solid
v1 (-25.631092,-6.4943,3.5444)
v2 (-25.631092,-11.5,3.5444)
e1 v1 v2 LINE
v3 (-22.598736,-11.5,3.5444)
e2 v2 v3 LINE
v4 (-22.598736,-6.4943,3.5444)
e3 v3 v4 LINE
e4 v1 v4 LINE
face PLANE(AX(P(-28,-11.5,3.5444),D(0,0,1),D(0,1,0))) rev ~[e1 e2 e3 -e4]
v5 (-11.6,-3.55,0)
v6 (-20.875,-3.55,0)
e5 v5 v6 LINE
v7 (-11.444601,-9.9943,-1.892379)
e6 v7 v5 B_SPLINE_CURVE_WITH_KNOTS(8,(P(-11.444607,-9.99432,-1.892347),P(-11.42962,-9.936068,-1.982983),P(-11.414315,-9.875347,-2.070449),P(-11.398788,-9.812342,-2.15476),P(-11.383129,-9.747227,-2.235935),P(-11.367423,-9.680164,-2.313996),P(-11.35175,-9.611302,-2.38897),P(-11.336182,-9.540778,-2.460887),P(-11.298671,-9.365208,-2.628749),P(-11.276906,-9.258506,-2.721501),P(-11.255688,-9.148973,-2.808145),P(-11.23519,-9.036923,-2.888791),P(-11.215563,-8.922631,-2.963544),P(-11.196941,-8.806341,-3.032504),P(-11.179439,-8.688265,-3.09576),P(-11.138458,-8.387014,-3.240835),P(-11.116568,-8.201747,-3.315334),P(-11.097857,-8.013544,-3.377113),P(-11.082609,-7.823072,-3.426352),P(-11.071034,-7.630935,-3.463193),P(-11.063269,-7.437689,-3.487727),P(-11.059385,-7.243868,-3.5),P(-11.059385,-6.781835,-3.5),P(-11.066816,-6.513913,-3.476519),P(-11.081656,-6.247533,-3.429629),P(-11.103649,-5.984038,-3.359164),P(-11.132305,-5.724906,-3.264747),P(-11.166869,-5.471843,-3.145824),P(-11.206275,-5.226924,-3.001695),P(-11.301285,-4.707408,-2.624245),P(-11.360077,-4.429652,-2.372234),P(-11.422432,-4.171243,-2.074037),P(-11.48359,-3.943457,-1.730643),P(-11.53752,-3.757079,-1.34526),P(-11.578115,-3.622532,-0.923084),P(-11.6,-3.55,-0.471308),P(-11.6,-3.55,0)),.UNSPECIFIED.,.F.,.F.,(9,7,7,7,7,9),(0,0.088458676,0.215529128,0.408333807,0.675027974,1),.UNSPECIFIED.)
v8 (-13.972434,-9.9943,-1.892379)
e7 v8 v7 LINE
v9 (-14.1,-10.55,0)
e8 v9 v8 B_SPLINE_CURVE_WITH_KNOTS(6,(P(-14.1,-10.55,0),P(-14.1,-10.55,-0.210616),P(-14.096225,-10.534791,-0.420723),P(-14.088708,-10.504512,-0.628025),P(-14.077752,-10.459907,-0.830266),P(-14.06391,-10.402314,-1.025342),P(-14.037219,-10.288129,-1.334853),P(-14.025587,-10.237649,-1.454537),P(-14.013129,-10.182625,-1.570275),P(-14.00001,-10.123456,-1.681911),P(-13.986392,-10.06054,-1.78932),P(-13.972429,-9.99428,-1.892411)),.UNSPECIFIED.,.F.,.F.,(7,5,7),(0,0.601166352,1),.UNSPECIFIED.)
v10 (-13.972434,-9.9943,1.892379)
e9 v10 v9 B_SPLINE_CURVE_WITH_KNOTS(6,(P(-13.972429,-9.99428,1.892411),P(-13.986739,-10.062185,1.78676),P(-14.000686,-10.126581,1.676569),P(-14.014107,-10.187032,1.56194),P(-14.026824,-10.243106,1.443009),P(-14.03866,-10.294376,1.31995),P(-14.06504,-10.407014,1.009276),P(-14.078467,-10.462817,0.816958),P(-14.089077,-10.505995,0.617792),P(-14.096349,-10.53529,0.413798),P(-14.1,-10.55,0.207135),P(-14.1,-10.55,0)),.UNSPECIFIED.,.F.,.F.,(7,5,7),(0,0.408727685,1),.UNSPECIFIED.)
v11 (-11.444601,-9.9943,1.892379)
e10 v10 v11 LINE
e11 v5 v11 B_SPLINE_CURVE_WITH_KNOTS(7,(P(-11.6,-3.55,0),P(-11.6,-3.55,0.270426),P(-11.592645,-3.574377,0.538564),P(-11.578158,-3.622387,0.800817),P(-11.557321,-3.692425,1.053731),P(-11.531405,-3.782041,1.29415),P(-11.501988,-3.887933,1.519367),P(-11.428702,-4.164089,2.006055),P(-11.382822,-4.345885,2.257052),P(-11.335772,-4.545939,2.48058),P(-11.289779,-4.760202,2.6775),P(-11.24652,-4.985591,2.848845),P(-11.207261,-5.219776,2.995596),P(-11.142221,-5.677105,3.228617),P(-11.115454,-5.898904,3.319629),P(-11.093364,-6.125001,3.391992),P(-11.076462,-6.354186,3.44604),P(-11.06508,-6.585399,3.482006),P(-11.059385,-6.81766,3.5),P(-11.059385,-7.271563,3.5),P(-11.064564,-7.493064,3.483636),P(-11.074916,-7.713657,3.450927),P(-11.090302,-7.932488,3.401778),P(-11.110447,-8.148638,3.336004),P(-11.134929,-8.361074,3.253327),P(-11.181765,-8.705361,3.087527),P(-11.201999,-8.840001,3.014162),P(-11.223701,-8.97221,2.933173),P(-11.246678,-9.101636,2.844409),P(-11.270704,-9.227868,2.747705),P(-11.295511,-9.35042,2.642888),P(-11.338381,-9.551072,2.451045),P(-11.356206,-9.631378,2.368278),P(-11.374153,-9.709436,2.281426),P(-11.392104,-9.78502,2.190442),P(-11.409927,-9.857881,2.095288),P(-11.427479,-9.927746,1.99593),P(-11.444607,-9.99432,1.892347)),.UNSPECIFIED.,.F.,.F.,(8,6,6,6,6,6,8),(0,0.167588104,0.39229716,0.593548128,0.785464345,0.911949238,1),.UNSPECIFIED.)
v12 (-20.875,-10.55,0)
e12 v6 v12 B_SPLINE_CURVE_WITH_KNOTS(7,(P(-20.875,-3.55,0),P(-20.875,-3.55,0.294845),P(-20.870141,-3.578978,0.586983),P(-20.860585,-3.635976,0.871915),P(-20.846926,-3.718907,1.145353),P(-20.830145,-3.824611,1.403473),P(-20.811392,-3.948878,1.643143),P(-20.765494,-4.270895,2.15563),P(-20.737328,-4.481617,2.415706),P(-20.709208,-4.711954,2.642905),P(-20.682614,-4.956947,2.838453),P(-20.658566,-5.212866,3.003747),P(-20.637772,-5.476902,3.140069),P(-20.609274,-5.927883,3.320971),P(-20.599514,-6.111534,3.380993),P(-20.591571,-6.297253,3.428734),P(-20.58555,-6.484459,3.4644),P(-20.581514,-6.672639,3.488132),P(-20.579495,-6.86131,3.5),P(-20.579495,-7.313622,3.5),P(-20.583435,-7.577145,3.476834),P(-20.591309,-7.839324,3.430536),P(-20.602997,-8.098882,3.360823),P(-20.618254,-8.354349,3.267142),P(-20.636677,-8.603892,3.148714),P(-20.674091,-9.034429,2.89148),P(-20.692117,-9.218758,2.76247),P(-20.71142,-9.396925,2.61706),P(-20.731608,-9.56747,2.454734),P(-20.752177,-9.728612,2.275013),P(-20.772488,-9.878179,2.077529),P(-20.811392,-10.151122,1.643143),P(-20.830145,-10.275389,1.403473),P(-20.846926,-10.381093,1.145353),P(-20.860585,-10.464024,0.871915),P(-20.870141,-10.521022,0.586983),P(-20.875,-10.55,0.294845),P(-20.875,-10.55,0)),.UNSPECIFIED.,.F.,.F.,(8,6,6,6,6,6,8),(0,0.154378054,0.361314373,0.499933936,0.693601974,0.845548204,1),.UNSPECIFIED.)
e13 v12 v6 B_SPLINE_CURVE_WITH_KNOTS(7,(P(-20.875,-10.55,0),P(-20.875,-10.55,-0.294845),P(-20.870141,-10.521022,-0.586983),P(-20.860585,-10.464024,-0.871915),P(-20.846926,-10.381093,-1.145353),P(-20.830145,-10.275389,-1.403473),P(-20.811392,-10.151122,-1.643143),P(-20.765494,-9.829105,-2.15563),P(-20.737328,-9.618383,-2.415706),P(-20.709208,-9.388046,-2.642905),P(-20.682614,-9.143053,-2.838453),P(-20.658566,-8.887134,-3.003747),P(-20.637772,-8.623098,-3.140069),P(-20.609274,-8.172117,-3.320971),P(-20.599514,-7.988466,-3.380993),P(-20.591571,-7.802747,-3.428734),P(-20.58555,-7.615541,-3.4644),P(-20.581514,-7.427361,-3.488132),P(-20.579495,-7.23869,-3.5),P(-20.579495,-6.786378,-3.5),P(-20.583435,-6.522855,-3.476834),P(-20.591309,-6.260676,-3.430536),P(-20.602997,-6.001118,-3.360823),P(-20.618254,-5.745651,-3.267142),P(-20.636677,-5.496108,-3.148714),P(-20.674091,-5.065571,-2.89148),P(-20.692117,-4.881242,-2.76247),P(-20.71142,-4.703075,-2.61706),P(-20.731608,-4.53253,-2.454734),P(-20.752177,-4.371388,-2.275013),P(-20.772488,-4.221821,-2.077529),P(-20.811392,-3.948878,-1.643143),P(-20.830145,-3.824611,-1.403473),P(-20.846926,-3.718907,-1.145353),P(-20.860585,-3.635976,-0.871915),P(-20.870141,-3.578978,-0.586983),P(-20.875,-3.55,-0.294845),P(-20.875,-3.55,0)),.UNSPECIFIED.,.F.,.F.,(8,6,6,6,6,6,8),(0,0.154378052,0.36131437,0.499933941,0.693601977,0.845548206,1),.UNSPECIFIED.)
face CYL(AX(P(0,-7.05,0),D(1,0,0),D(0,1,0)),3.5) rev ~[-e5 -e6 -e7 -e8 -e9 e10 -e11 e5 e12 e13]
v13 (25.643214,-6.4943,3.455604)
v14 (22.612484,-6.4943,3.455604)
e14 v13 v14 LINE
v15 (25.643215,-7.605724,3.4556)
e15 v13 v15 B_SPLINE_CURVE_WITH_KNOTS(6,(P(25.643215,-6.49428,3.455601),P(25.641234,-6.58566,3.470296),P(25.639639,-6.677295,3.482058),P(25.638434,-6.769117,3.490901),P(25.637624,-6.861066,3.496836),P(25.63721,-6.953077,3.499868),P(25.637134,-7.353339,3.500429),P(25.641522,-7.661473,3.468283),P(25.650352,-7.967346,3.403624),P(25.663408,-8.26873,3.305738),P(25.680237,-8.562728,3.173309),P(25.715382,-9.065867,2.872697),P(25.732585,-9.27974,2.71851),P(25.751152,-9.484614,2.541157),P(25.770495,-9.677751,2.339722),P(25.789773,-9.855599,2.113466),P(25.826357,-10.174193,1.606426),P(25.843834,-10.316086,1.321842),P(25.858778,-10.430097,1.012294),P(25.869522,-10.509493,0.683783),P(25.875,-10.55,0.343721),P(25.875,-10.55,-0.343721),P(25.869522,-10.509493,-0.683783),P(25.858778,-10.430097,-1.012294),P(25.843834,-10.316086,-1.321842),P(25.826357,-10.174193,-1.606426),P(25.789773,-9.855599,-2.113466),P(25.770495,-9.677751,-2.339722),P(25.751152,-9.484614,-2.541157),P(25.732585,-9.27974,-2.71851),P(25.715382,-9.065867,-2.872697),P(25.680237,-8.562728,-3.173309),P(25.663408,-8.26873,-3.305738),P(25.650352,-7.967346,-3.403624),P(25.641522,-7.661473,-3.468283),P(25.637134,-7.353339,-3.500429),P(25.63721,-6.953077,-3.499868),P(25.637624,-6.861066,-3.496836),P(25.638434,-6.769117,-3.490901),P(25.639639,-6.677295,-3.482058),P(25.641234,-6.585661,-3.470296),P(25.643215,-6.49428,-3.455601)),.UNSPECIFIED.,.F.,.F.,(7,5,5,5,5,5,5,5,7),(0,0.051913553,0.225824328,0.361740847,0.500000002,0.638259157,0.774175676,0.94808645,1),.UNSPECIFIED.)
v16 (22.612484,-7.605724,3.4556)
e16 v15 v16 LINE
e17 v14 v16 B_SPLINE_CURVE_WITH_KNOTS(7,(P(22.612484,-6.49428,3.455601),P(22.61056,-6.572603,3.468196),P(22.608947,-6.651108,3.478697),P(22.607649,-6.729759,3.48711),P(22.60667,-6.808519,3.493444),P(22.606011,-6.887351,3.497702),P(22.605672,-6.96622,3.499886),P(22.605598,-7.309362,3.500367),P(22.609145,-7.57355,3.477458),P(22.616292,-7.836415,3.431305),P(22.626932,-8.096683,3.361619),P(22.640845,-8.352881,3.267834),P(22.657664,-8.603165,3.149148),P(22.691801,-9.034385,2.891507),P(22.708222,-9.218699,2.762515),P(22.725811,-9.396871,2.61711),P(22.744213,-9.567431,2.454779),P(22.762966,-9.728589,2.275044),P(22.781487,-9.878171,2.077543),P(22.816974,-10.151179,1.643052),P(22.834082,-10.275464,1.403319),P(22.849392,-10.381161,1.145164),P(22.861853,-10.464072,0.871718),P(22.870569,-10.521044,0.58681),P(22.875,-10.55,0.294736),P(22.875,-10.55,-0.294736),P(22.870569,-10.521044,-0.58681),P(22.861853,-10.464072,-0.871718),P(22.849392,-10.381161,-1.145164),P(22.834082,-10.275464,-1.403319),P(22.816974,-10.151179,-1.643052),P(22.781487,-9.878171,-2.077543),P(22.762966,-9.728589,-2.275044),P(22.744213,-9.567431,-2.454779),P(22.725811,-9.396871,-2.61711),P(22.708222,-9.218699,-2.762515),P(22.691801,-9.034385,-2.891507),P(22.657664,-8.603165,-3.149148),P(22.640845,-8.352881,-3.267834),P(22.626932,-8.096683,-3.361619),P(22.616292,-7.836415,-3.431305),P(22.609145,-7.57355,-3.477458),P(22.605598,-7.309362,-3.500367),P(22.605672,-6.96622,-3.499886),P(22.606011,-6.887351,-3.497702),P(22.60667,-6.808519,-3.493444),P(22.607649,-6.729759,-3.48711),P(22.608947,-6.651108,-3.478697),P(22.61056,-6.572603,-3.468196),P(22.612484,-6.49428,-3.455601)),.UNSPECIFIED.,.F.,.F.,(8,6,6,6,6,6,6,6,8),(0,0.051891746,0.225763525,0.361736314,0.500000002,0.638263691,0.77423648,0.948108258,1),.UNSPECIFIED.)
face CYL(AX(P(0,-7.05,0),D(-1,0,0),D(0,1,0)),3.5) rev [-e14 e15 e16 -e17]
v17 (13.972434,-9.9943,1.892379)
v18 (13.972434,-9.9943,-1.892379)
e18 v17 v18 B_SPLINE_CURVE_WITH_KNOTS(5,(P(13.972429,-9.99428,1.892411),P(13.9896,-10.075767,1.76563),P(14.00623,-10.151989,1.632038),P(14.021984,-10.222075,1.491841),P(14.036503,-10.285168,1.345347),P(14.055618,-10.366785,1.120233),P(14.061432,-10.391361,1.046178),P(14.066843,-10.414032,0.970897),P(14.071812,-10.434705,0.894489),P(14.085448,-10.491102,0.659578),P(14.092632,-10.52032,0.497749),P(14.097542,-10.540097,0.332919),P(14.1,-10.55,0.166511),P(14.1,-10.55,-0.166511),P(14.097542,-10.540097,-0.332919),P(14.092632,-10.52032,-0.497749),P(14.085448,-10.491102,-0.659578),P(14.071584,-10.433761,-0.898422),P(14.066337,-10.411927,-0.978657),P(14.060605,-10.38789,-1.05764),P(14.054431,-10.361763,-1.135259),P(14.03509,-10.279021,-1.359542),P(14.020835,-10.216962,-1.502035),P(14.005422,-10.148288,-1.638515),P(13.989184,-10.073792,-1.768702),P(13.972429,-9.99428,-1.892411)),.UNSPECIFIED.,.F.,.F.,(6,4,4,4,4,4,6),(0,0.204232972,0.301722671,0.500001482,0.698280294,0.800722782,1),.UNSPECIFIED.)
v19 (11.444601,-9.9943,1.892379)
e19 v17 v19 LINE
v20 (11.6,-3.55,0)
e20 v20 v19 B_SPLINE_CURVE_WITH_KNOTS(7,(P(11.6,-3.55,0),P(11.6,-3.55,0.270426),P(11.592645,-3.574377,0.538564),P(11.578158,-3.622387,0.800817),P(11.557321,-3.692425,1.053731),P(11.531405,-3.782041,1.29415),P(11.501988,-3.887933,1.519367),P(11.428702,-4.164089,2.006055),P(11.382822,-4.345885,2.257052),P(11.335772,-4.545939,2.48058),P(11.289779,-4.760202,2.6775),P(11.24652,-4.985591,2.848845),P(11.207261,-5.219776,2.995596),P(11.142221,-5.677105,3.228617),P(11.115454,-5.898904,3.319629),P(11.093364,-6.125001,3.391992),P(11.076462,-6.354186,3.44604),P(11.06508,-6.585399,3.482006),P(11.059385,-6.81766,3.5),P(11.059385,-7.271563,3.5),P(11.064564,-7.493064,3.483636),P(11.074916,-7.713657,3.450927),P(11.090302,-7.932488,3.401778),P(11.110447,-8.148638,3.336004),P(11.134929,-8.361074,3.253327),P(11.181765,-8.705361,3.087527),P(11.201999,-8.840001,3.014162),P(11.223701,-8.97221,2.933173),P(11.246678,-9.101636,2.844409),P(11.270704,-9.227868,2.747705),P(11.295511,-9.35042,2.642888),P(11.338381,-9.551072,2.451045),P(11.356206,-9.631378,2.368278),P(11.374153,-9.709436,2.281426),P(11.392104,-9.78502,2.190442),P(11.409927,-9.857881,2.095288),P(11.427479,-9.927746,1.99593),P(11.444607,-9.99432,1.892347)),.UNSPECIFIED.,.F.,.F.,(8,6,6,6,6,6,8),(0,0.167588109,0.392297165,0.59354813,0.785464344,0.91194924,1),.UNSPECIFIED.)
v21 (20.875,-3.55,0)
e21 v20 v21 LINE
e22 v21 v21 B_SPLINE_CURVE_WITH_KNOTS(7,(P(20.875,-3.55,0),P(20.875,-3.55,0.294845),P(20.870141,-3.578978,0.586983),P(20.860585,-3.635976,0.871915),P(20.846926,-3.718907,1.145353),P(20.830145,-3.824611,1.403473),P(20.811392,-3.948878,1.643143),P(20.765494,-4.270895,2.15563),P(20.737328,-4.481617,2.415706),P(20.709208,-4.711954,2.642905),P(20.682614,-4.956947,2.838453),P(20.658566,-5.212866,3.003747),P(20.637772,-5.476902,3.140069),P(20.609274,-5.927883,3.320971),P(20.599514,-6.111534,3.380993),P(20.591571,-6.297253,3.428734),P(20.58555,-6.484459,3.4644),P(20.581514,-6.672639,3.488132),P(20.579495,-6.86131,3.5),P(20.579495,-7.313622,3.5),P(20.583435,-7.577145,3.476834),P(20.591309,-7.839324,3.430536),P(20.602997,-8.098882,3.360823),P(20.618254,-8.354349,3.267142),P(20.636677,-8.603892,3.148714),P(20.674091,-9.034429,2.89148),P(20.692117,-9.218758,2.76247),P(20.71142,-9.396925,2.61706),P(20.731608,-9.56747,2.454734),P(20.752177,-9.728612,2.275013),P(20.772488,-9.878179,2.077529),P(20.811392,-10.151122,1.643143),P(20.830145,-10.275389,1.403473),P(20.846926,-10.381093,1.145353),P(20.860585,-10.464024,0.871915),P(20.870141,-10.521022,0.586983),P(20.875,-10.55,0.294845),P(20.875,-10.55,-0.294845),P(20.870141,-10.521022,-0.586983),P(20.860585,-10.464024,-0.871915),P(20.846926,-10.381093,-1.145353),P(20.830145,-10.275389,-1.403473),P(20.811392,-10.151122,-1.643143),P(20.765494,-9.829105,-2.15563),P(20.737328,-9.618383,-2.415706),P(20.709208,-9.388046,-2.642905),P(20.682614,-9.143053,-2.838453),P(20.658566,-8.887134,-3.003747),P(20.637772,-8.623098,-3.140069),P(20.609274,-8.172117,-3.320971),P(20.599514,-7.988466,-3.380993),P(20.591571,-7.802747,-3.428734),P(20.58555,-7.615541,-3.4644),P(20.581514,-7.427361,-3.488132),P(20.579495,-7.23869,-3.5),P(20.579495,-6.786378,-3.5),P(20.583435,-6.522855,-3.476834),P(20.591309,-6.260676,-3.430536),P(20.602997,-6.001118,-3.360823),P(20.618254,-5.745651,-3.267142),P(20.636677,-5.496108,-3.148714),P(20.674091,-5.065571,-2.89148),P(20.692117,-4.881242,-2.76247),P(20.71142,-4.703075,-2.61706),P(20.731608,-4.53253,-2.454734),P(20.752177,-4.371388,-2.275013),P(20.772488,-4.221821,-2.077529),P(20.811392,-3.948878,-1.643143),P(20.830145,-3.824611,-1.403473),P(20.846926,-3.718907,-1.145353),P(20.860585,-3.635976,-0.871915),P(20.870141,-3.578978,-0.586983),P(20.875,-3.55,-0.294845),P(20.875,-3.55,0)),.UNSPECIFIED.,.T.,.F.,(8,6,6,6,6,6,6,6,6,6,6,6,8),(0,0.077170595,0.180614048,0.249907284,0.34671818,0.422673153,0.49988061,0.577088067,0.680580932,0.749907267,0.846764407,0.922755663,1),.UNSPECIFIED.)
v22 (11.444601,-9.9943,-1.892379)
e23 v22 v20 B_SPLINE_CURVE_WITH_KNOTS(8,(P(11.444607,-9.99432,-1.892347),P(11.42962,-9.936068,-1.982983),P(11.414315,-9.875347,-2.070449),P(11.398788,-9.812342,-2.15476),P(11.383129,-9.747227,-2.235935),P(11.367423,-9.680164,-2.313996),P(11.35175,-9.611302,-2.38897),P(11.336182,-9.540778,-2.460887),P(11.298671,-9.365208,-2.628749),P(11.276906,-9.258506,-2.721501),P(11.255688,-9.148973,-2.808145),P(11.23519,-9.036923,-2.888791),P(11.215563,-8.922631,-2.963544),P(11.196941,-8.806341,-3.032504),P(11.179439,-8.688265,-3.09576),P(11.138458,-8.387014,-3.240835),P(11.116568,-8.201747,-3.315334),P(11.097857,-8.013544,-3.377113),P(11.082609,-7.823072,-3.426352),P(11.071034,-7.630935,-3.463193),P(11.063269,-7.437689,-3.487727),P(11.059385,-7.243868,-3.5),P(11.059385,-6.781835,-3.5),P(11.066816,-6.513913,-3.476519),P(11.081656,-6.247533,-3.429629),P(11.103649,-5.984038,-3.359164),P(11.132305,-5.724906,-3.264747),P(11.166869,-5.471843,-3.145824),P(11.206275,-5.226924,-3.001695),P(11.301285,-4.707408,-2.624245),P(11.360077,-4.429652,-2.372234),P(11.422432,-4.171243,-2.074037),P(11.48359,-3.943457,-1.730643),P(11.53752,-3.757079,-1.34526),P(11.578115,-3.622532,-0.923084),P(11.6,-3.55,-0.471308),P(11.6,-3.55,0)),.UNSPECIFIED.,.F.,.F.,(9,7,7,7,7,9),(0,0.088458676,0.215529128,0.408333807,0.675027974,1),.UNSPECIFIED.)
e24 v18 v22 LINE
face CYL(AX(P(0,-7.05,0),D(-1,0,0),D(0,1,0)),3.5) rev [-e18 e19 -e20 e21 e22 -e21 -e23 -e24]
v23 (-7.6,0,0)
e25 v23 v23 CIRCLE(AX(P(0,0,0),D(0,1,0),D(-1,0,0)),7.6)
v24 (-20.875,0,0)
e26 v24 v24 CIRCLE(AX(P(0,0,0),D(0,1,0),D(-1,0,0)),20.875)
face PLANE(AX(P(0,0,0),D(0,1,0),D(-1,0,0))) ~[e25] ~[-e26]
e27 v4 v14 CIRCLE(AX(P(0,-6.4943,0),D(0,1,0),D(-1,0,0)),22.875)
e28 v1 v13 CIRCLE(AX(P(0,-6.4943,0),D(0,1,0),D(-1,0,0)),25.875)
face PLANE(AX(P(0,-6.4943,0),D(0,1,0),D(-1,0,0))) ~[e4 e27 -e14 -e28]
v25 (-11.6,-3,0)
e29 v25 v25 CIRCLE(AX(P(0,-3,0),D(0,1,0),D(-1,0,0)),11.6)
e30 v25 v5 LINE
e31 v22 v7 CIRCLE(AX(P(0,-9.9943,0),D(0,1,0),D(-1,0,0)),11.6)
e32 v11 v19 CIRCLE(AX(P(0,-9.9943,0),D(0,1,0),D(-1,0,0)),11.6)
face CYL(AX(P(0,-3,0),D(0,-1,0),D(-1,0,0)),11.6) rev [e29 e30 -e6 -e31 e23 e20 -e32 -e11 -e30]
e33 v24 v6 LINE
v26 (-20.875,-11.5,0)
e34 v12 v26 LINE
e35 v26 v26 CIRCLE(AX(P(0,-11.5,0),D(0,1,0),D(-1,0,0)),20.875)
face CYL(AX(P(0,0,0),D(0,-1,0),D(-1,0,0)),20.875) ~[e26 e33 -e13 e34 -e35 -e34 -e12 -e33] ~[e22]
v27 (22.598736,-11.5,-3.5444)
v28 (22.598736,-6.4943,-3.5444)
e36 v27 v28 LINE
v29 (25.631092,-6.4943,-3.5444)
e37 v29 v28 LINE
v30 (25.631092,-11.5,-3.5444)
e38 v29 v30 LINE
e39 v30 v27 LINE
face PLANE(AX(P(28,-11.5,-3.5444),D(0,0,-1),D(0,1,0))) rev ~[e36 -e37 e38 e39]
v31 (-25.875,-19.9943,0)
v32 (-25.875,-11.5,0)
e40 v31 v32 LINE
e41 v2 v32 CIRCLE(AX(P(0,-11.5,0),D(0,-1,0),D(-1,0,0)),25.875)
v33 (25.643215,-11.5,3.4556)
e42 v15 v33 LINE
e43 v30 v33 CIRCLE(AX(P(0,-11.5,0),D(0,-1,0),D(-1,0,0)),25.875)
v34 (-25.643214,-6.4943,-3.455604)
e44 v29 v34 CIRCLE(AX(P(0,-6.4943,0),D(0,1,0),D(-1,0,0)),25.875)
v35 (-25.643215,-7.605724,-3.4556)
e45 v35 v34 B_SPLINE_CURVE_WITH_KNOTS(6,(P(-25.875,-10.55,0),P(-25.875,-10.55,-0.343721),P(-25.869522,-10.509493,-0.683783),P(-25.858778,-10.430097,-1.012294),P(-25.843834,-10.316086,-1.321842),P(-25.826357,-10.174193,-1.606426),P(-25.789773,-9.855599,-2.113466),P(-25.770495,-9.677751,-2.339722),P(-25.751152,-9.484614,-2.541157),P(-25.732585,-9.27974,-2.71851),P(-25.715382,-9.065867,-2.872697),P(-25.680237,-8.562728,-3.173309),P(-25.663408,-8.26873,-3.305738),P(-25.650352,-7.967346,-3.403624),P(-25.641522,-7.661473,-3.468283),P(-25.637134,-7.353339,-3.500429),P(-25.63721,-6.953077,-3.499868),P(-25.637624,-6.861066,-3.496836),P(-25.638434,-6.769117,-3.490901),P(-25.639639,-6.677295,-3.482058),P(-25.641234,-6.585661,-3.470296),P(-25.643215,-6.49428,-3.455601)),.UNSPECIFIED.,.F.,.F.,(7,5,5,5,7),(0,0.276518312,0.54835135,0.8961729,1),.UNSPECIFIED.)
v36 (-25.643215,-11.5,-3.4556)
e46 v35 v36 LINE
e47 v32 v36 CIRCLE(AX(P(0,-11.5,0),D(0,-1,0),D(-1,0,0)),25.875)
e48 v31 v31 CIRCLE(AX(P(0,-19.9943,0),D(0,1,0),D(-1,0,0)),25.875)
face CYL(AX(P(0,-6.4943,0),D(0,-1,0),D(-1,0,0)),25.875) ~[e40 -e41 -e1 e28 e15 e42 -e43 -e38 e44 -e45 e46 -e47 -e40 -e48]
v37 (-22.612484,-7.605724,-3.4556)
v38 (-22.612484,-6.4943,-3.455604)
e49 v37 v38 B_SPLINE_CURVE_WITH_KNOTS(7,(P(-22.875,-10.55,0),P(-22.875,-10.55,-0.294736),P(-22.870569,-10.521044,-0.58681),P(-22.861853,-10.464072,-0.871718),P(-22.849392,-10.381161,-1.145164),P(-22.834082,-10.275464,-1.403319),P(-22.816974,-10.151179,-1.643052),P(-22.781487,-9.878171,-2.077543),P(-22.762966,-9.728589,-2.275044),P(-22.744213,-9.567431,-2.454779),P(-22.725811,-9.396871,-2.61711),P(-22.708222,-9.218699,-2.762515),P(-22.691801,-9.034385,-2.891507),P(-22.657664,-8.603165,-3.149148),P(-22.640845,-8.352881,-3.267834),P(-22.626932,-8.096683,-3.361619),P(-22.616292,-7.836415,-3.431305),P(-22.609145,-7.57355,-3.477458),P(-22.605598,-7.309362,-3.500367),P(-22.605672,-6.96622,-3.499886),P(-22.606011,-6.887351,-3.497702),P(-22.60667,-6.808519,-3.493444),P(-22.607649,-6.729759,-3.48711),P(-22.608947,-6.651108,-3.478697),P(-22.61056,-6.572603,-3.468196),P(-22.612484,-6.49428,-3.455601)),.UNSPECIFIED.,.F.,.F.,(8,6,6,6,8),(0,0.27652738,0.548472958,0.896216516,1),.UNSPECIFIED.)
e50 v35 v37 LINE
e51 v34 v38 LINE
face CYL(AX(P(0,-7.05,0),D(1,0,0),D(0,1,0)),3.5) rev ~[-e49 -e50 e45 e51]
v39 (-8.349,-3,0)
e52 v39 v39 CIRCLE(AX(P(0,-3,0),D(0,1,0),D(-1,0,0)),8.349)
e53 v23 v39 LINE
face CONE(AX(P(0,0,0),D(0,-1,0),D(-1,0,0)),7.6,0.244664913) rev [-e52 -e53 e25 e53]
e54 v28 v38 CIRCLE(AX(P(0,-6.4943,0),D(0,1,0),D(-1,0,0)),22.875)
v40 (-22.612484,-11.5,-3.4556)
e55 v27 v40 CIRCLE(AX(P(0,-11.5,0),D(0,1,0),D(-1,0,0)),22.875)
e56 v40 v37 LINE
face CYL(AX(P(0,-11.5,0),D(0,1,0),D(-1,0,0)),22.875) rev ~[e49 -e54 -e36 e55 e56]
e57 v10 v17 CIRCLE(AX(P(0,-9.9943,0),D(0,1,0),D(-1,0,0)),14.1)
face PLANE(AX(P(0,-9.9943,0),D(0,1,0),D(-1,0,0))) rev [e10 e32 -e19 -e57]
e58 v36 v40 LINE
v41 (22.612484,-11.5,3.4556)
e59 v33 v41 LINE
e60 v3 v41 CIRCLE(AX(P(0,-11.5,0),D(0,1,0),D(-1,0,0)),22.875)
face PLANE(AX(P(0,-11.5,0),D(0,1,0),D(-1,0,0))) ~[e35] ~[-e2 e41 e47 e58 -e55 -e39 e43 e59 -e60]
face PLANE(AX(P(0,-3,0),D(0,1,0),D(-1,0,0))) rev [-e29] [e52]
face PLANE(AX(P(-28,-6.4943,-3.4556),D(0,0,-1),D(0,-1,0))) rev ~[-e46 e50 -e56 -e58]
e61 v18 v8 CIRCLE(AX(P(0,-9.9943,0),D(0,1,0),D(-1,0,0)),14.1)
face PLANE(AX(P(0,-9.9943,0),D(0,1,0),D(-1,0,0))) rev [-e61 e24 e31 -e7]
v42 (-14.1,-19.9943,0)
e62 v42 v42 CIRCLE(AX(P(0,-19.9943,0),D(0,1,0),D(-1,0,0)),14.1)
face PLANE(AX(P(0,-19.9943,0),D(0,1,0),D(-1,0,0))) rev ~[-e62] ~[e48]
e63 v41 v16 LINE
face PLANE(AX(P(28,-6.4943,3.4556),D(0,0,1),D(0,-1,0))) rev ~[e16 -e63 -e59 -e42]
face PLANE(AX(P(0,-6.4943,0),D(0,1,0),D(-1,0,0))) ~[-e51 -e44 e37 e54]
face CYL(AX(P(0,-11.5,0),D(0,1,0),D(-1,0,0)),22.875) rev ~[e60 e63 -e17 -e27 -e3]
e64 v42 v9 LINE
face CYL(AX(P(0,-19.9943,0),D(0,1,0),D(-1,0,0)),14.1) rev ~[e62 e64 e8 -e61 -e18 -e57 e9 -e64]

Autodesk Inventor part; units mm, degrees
ref_plane "XZ Plane" through (0, 0, 0) normal (0, 1, 0) x (-1, 0, 0)
sketch "Sketch2" plane through (0, 0, 0) normal (0, 0, 1) x (1, 0, 0)
  line L0 (0, 0) -> (-20.875, 0)
  line L1 (-20.875, 0) -> (-20.875, -11.5)
  line L2 (-20.875, -11.5) -> (-22.875, -11.5)
  line L3 (-22.875, -11.5) -> (-22.875, -6.4943)
  line L4 (-22.875, -6.4943) -> (-25.875, -6.4943)
  line L5 (-25.875, -6.4943) -> (-25.875, -12.9943)
  line L6 (0, -3) -> (0, 0)
  line L7 (-25.875, -12.9943) -> (-25.875, -19.9943)
  line L8 (-25.875, -19.9943) -> (-14.1, -19.9943)
  line L9 (-14.1, 0) -> (-14.1, -19.9943) construction
  line L10 (-7.6, 0) -> (-7.6, -3) construction
  line L11 (-7.6, -3) -> (0, -3) construction
  line L12 (-7.6, 0) -> (-7.6, -10) construction
  line L13 (-8.349, -3) -> (-14.1, -3)
  line L14 (-14.1, -19.9943) -> (-14.1, -3)
  line L15 (-11.6, -3) -> (-11.6, -9.9943)
  line L16 (-11.6, -9.9943) -> (-14.1, -9.9943)
  line L17 (-7.6, 0) -> (-8.349, -3)
  dimension "d3" = 20.875
  dimension "d4" = 11.5
  dimension "d5" = 2
  dimension "d6" = 3
  dimension "d7" = 6.5
  dimension "d9" = 7
  dimension "d10" = 14.1
  dimension "d11" = 3
  dimension "d12" = 7.6
  dimension "d13" = 10
  dimension "d31" = 2.5
  dimension "d33" = 10
revolve "Revolution1" add sketch "Sketch2" angle 360 about axis through (0, -3, 0) along (0, 1, 0)
sketch "Sketch3" plane through (0, 0, 0) normal (1, 0, 0) x (0, 1, 0)
  line L0 (0, -7.6) -> (0, 7.6) projected
  circle A0 centre (-7.05, 0) radius 3.5
  point P0 (0, 0)
  dimension "d16" = 7.05
  dimension "d17" = 0
  dimension "d20" = 7
extrude "Extrusion1" cut sketch "Sketch3" along normal through all both and the other way through all
ref_plane "Work Plane1" through (-28, 0, 0) normal (1, 0, 0) x (0, 1, 0)
sketch "Sketch4" plane through (-28, 0, 0) normal (1, 0, 0) x (0, 1, 0)
  line L0 (-11.5, -20.875) -> (-11.5, 20.875) projected
  line L1 (-6.4943, -3.4556) -> (-11.5, -3.4556)
  line L2 (-11.5, -3.4556) -> (-11.5, 3.5444)
  line L3 (-11.5, 3.5444) -> (-6.4943, 3.5444)
  line L4 (-6.4943, 3.5444) -> (-6.4943, -3.4556)
  point P0 (0, 0)
  dimension "d24" = 7
extrude "Extrusion2" cut sketch "Sketch4" along normal up to surface
ref_plane "Work Plane2" through (28, 0, 0) normal (1, 0, 0) x (0, 1, 0)
sketch "Sketch5" plane through (28, 0, 0) normal (1, 0, 0) x (0, 1, 0)
  line L0 (-11.5, -20.875) -> (-11.5, 20.875) projected
  line L1 (-6.4943, 3.4556) -> (-11.5, 3.4556)
  line L2 (-11.5, 3.4556) -> (-11.5, -3.5444)
  line L3 (-11.5, -3.5444) -> (-6.4943, -3.5444)
  line L4 (-6.4943, -3.5444) -> (-6.4943, 3.4556)
  point P0 (0, 0)
  dimension "d28" = 7
extrude "Extrusion3" cut sketch "Sketch5" against normal up to surface
properties part number "bottom seal v2"
